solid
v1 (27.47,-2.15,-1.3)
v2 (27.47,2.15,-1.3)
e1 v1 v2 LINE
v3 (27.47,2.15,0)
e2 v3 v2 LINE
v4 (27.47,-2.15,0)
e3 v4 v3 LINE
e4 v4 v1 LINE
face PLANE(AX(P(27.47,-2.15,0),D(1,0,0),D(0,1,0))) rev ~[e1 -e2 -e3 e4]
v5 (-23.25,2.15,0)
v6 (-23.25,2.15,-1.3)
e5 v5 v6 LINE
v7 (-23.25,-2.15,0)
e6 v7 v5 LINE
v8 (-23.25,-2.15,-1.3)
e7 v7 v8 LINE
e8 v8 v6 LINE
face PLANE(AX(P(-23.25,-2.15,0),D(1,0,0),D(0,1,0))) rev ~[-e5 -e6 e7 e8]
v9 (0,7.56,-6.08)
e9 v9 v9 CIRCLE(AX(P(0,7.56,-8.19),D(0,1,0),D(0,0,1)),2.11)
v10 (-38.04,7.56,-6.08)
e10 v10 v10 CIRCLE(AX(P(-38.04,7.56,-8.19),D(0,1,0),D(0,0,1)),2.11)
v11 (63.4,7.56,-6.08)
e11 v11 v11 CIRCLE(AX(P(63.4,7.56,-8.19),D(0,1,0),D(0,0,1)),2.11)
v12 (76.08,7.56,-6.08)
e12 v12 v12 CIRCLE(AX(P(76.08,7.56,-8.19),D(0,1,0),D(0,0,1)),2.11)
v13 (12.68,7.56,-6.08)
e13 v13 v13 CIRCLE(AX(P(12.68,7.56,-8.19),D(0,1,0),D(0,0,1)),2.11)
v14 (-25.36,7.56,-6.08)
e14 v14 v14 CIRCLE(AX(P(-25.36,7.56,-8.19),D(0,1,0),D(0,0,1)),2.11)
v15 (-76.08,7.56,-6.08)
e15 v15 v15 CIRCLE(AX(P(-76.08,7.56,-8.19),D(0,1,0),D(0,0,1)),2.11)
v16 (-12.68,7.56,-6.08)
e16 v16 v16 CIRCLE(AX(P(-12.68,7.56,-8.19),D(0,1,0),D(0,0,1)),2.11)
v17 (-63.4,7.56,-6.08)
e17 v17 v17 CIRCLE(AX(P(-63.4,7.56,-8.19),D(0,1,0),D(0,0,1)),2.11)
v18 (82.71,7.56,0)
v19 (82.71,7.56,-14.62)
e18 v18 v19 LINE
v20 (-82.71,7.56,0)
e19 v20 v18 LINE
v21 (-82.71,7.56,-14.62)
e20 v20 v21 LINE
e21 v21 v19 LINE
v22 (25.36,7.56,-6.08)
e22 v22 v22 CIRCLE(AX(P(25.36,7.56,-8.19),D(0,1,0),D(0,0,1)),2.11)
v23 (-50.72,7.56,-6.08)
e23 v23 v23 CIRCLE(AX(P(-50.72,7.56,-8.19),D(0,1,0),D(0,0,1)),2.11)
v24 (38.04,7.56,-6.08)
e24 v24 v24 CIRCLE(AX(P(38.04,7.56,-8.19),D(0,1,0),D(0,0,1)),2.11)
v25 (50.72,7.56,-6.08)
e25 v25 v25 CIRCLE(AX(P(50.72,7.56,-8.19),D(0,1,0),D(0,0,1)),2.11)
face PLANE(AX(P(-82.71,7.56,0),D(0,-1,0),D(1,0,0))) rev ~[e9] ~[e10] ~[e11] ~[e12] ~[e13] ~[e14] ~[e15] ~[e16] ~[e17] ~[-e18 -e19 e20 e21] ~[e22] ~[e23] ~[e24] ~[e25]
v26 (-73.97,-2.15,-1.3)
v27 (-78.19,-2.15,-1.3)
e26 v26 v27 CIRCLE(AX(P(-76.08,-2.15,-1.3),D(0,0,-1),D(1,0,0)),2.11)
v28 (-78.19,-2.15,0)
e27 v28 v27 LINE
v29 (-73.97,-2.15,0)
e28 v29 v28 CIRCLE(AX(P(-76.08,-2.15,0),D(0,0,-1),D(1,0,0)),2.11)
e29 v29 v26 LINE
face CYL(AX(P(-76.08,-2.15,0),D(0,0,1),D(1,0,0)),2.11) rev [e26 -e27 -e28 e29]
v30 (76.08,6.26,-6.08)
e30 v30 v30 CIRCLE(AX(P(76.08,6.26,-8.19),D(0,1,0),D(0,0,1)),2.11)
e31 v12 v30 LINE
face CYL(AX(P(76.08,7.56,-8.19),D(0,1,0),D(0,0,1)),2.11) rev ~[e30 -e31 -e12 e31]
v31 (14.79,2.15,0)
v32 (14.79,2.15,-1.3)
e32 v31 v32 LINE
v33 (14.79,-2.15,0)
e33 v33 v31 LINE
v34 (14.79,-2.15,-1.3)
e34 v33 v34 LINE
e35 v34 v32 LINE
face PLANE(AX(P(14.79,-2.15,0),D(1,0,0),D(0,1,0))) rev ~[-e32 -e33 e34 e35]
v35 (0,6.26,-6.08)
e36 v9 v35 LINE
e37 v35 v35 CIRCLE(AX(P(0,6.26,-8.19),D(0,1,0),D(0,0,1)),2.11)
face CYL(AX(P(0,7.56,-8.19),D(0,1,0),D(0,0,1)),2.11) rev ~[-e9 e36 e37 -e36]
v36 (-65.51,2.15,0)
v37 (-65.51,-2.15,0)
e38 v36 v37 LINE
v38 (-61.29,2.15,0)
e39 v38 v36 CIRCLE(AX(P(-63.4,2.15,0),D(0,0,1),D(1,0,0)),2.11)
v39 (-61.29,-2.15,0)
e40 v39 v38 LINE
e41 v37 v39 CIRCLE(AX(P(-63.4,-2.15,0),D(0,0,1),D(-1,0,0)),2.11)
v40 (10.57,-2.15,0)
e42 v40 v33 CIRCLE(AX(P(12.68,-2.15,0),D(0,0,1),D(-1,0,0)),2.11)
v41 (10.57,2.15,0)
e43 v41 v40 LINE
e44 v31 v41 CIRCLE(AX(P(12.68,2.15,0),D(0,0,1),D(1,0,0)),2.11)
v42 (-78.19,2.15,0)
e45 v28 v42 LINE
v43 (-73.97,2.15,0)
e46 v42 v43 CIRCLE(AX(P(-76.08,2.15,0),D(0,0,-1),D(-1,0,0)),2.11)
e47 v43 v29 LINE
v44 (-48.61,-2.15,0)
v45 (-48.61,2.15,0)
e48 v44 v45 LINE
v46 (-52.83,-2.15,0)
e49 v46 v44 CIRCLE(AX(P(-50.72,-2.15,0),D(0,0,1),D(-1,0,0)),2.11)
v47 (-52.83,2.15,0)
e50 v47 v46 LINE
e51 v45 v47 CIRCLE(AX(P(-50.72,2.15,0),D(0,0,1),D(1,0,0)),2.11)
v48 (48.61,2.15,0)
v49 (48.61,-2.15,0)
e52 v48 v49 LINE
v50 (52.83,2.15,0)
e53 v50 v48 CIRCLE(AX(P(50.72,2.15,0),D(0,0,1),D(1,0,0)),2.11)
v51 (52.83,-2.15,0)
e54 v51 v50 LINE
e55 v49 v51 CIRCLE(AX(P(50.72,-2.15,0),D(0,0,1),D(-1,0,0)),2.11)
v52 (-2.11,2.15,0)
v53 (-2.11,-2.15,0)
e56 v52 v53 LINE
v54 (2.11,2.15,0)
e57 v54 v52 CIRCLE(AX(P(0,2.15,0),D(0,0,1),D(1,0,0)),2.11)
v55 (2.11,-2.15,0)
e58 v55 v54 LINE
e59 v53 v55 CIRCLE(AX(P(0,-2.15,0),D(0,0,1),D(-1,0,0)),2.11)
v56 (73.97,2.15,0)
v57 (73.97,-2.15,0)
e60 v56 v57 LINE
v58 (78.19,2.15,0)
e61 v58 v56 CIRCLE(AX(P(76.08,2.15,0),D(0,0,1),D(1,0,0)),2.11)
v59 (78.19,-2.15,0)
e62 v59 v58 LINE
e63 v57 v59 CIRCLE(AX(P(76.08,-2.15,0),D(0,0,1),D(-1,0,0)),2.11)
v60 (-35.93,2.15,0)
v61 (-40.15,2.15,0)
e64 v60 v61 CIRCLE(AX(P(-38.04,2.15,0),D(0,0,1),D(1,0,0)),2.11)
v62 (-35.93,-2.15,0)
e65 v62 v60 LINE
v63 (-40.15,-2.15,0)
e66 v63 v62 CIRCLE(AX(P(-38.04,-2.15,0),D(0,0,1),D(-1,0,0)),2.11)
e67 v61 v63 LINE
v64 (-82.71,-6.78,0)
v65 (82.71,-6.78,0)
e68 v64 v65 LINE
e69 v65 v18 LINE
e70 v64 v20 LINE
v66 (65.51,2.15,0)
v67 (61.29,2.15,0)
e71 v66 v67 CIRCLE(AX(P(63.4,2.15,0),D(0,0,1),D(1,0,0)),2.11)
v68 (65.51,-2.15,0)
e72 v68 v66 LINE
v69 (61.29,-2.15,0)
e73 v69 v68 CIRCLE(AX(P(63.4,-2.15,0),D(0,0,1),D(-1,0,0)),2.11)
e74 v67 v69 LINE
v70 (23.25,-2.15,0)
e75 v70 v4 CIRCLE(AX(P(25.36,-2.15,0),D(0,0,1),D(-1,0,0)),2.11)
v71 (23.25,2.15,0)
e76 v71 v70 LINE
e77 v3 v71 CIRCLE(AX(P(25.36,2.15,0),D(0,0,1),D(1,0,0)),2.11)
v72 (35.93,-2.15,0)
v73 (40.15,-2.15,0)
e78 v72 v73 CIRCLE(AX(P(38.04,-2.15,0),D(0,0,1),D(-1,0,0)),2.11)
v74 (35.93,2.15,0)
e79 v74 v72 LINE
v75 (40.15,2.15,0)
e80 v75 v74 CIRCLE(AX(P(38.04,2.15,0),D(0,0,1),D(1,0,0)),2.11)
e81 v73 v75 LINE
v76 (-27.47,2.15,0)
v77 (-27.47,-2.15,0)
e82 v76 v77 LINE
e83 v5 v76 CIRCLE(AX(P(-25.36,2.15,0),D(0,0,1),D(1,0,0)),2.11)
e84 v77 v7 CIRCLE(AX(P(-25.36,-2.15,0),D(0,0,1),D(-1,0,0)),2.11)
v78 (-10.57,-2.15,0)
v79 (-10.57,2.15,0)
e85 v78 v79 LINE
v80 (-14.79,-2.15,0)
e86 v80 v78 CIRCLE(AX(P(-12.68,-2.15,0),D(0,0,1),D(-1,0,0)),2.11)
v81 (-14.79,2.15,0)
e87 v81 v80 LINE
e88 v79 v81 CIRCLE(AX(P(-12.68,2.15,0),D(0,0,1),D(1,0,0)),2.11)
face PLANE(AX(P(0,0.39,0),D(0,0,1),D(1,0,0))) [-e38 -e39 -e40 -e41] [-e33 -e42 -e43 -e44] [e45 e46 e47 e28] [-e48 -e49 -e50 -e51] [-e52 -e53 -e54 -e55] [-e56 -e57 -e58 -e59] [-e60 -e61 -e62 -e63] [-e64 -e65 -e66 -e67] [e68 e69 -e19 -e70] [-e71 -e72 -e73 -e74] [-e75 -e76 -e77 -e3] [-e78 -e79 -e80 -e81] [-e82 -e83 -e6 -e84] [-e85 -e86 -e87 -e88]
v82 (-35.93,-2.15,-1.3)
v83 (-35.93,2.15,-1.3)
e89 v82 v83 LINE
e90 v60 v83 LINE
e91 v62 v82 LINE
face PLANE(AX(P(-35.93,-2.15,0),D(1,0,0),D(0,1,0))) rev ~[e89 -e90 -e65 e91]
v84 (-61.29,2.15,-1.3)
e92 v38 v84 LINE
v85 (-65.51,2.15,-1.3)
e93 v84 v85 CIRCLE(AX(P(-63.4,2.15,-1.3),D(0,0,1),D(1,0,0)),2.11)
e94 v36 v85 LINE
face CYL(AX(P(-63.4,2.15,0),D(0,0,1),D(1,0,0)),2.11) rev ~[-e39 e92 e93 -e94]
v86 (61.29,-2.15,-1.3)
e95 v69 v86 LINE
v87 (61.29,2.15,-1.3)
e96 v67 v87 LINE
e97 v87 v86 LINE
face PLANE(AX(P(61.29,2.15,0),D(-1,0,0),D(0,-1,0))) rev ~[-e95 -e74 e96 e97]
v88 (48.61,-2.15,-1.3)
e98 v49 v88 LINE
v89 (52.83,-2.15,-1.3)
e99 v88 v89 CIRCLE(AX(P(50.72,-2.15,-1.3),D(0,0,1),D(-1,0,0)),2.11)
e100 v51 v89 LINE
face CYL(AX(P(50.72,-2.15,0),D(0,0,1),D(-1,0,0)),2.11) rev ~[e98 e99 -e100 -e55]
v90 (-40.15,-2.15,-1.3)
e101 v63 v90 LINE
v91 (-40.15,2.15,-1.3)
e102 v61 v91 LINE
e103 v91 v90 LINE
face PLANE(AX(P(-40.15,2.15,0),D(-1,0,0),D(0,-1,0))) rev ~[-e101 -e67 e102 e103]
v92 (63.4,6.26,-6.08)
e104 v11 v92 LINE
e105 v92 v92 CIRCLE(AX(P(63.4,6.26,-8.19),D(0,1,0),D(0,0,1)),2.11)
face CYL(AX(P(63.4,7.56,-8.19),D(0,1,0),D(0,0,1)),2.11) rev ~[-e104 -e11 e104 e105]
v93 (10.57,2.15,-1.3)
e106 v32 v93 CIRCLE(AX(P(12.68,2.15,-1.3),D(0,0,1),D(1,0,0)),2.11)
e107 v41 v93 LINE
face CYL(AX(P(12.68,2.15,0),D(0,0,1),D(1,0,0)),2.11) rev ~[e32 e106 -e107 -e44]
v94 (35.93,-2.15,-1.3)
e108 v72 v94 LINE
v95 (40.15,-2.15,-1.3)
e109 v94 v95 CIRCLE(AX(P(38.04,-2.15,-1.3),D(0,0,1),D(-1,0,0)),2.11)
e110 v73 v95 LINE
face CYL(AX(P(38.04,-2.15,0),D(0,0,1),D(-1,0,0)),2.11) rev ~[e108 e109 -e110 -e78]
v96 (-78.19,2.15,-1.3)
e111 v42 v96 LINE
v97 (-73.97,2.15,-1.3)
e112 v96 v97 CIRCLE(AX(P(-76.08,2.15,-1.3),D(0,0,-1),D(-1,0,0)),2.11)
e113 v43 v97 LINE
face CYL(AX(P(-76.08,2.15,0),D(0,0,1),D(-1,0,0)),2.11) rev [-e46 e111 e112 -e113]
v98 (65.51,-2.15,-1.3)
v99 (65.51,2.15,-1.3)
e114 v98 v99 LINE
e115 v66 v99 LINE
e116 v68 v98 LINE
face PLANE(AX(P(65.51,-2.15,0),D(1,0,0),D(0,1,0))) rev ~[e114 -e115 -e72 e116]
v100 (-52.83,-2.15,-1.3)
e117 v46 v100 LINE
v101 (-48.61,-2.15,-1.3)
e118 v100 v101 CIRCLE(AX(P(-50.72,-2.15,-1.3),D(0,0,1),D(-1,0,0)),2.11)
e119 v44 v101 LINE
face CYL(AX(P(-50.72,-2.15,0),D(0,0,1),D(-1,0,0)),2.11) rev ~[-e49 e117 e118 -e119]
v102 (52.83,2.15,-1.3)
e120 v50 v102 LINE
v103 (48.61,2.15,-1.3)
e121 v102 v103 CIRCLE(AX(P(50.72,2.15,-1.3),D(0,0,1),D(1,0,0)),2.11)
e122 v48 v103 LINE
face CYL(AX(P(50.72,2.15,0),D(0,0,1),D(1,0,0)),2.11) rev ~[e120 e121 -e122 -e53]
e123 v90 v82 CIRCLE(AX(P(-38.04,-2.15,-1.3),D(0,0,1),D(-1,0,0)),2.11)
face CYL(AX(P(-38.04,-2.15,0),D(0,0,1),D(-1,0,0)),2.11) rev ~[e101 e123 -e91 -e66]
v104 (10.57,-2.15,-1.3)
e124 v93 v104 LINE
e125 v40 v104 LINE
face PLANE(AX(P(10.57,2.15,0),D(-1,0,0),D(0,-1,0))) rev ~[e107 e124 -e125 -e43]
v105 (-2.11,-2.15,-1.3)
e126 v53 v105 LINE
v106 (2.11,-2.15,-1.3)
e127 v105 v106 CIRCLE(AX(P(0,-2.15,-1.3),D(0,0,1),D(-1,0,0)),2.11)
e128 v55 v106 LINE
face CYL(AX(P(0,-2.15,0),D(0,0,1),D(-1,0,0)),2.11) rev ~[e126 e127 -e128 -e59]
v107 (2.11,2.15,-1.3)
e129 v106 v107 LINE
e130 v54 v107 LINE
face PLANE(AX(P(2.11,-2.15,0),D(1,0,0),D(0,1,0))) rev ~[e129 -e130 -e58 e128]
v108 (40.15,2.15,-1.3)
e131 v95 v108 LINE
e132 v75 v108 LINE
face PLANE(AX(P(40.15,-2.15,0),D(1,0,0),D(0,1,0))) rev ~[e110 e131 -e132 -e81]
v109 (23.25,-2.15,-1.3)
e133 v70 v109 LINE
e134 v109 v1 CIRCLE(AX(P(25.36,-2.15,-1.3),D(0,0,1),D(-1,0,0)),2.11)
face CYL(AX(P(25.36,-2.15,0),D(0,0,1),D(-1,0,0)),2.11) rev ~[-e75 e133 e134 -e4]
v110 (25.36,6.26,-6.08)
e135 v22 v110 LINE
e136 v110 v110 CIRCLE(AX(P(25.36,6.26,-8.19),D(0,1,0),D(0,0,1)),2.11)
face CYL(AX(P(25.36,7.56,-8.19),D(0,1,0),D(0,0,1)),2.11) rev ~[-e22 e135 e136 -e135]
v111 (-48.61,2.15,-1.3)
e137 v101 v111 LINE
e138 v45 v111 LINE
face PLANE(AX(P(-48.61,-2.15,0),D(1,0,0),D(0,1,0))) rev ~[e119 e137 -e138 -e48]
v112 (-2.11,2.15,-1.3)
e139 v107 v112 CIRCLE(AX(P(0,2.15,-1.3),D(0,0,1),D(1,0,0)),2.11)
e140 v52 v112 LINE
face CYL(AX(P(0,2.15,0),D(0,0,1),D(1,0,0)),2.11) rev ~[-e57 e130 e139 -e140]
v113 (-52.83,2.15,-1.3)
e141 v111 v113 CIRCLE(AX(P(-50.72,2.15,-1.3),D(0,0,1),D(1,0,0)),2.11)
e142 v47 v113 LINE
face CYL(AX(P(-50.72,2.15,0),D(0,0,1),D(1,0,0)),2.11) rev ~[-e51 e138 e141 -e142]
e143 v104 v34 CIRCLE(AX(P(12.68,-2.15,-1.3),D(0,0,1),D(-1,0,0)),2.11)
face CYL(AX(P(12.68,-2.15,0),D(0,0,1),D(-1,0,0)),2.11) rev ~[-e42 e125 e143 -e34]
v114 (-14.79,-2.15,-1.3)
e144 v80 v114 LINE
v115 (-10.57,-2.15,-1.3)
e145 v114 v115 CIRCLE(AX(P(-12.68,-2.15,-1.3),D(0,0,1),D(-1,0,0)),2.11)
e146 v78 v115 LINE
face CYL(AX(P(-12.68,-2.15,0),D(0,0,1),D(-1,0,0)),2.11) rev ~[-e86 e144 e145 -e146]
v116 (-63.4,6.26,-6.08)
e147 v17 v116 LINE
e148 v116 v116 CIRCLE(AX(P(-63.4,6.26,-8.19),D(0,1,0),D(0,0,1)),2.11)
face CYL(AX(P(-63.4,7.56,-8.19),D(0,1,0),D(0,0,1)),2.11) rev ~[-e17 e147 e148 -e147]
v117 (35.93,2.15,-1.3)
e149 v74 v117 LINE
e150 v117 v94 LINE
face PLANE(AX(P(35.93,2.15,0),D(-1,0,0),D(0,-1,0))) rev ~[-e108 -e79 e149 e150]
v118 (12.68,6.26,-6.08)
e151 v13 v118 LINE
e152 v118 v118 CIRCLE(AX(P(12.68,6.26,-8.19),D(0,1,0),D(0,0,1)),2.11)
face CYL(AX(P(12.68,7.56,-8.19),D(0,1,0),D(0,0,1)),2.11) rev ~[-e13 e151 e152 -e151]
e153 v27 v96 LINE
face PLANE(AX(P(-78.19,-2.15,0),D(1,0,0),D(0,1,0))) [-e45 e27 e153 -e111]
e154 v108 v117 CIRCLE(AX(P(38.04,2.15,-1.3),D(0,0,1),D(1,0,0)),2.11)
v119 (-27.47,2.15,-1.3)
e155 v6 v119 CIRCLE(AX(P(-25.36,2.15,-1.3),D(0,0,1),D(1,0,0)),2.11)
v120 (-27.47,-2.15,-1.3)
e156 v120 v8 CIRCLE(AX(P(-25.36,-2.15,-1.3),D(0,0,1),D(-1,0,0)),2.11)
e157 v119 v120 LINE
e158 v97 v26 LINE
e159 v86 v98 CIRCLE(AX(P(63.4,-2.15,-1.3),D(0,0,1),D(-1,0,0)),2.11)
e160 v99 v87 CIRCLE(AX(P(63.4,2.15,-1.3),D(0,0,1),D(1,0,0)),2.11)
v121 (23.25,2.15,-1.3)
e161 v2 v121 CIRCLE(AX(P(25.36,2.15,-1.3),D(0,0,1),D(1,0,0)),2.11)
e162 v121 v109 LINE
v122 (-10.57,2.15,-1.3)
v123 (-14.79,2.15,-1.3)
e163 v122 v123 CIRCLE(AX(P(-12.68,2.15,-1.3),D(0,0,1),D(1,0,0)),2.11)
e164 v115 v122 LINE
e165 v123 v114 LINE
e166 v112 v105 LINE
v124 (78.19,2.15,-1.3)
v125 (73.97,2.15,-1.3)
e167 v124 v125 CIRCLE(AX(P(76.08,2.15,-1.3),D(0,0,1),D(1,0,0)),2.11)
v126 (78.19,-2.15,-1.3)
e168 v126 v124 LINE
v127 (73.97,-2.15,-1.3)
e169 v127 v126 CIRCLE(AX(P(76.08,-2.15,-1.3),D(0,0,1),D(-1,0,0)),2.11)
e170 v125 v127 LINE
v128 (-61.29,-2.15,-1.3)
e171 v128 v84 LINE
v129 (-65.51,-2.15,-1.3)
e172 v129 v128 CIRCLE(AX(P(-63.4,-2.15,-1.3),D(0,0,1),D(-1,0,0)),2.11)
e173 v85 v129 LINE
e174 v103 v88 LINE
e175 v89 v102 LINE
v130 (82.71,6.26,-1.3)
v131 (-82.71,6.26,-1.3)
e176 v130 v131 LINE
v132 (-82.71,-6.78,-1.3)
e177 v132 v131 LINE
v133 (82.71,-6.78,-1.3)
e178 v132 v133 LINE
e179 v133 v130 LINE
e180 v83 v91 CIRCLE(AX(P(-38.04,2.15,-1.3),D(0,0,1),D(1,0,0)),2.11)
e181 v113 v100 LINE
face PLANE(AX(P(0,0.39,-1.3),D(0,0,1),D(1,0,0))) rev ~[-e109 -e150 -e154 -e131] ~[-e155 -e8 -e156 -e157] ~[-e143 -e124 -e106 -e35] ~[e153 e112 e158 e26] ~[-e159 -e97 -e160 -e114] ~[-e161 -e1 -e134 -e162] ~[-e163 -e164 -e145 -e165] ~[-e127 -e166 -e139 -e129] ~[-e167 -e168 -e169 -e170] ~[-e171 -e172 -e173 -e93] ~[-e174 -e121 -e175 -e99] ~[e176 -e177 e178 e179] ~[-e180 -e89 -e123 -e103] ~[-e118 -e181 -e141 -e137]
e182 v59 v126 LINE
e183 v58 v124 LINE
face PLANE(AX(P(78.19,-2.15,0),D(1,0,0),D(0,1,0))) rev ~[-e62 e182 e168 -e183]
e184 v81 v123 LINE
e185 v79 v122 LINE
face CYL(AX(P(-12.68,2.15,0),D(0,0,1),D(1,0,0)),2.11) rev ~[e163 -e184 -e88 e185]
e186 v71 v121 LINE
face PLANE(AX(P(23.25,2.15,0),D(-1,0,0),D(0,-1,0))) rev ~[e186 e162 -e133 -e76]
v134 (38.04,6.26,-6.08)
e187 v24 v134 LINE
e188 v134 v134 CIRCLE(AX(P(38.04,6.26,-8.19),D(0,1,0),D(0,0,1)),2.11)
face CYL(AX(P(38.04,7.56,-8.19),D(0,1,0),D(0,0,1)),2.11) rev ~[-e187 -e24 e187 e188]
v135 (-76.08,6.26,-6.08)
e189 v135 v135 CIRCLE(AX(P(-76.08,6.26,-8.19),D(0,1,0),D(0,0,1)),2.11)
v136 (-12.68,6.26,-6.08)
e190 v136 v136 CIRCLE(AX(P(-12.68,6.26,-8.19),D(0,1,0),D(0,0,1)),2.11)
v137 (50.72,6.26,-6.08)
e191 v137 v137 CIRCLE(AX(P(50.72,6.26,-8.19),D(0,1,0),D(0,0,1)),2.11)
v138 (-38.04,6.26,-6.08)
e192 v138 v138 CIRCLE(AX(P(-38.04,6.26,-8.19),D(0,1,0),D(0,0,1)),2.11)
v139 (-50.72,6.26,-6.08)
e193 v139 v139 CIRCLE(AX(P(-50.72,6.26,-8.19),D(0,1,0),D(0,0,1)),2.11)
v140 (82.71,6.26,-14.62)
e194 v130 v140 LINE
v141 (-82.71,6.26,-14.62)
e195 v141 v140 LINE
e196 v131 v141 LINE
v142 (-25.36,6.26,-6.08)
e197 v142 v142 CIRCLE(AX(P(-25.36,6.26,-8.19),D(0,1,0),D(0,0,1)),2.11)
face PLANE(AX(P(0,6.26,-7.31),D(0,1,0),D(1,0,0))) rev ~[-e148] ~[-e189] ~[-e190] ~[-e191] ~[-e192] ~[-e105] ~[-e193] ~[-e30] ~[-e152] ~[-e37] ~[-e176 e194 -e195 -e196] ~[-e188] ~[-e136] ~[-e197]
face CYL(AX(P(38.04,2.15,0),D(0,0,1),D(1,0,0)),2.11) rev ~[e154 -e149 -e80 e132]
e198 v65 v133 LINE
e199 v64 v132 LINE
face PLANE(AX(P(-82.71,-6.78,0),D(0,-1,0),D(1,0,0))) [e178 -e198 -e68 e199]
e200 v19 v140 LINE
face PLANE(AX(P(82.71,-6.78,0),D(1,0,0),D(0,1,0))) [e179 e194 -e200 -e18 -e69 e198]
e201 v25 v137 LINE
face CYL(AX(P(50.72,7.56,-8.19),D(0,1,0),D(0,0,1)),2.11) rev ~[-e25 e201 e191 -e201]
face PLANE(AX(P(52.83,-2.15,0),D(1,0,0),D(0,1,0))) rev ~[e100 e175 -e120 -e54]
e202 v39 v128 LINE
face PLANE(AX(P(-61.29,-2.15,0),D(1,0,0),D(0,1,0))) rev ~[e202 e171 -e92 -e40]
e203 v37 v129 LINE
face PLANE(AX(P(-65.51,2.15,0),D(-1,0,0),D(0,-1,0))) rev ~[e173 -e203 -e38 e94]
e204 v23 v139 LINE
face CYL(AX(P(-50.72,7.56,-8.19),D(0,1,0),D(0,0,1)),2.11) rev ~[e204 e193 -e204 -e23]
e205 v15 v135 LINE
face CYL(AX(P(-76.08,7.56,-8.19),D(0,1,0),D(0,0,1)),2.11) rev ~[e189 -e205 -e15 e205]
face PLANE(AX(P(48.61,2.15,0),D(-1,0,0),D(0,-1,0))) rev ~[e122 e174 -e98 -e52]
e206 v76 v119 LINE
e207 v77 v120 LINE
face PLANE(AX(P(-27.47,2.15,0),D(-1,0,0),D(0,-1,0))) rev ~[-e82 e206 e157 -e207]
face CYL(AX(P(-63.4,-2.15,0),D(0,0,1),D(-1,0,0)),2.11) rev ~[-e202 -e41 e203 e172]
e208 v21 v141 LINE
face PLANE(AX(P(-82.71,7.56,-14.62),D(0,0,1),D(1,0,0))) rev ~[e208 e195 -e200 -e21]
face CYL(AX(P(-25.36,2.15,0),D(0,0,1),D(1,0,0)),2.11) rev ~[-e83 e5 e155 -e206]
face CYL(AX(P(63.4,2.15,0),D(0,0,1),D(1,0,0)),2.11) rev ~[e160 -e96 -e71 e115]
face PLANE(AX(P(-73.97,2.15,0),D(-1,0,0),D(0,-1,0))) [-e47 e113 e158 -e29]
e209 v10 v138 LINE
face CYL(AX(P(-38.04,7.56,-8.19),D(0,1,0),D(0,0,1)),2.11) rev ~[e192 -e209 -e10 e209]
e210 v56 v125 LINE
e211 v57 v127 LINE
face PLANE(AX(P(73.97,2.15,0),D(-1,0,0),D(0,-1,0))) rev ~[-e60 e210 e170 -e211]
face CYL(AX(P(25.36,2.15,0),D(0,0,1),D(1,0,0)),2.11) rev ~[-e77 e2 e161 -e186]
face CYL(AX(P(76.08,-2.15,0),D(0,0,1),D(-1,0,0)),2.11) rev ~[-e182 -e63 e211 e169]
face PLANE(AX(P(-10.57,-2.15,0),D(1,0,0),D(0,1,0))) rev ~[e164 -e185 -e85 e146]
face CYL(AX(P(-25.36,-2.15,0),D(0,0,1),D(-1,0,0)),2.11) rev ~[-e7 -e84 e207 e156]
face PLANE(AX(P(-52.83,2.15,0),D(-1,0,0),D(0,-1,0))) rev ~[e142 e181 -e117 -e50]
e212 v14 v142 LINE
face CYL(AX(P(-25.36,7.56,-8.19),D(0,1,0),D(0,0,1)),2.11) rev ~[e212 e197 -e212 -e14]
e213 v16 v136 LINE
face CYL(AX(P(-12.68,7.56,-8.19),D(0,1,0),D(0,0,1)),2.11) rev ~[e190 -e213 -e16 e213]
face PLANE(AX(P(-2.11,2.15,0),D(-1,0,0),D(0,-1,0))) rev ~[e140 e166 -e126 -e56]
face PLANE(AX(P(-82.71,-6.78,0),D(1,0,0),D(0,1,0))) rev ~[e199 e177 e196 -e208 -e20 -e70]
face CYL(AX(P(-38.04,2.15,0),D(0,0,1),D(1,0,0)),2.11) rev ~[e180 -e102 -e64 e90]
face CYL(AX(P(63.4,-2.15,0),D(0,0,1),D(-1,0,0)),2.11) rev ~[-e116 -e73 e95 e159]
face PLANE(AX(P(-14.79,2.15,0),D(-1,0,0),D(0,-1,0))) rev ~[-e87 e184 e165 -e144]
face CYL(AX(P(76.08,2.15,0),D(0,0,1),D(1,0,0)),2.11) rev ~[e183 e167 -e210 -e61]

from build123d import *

# Parameters (mm, degrees)
SKETCH1_W           = 165.42
SKETCH1_H           = 14.34
BOSS_EXTRUDE1_DEPTH = 1.3
SKETCH3_W           = 165.42
SKETCH3_H           = 14.62
SKETCH3_R           = 2.11
BOSS_EXTRUDE2_DEPTH = 1.3


with BuildPart() as part:
    # Sketch1 → Boss-Extrude1 (new body)
    with BuildSketch(Plane.XY):
        with Locations((0, 0.39)):
            Rectangle(SKETCH1_W, SKETCH1_H)
        with BuildLine():
            Line((-73.97, 2.15), (-73.97, -2.15))
            ThreePointArc((-73.97, -2.15), (-76.08, -4.26), (-78.19, -2.15))
            Line((-78.19, -2.15), (-78.19, 2.15))
            ThreePointArc((-78.19, 2.15), (-76.08, 4.26), (-73.97, 2.15))
        make_face(mode=Mode.SUBTRACT)
        with BuildLine():
            Line((-65.51, 2.15), (-65.51, -2.15))
            ThreePointArc((-65.51, -2.15), (-63.4, -4.26), (-61.29, -2.15))
            Line((-61.29, -2.15), (-61.29, 2.15))
            ThreePointArc((-61.29, 2.15), (-63.4, 4.26), (-65.51, 2.15))
        make_face(mode=Mode.SUBTRACT)
        with BuildLine():
            Line((-52.83, 2.15), (-52.83, -2.15))
            ThreePointArc((-52.83, -2.15), (-50.72, -4.26), (-48.61, -2.15))
            Line((-48.61, -2.15), (-48.61, 2.15))
            ThreePointArc((-48.61, 2.15), (-50.72, 4.26), (-52.83, 2.15))
        make_face(mode=Mode.SUBTRACT)
        with BuildLine():
            Line((-40.15, 2.15), (-40.15, -2.15))
            ThreePointArc((-40.15, -2.15), (-38.04, -4.26), (-35.93, -2.15))
            Line((-35.93, -2.15), (-35.93, 2.15))
            ThreePointArc((-35.93, 2.15), (-38.04, 4.26), (-40.15, 2.15))
        make_face(mode=Mode.SUBTRACT)
        with BuildLine():
            Line((-27.47, 2.15), (-27.47, -2.15))
            ThreePointArc((-27.47, -2.15), (-25.36, -4.26), (-23.25, -2.15))
            Line((-23.25, -2.15), (-23.25, 2.15))
            ThreePointArc((-23.25, 2.15), (-25.36, 4.26), (-27.47, 2.15))
        make_face(mode=Mode.SUBTRACT)
        with BuildLine():
            Line((-14.79, 2.15), (-14.79, -2.15))
            ThreePointArc((-14.79, -2.15), (-12.68, -4.26), (-10.57, -2.15))
            Line((-10.57, -2.15), (-10.57, 2.15))
            ThreePointArc((-10.57, 2.15), (-12.68, 4.26), (-14.79, 2.15))
        make_face(mode=Mode.SUBTRACT)
        with BuildLine():
            Line((-2.11, 2.15), (-2.11, -2.15))
            ThreePointArc((-2.11, -2.15), (0, -4.26), (2.11, -2.15))
            Line((2.11, -2.15), (2.11, 2.15))
            ThreePointArc((2.11, 2.15), (0, 4.26), (-2.11, 2.15))
        make_face(mode=Mode.SUBTRACT)
        with BuildLine():
            Line((10.57, 2.15), (10.57, -2.15))
            ThreePointArc((10.57, -2.15), (12.68, -4.26), (14.79, -2.15))
            Line((14.79, -2.15), (14.79, 2.15))
            ThreePointArc((14.79, 2.15), (12.68, 4.26), (10.57, 2.15))
        make_face(mode=Mode.SUBTRACT)
        with BuildLine():
            Line((23.25, 2.15), (23.25, -2.15))
            ThreePointArc((23.25, -2.15), (25.36, -4.26), (27.47, -2.15))
            Line((27.47, -2.15), (27.47, 2.15))
            ThreePointArc((27.47, 2.15), (25.36, 4.26), (23.25, 2.15))
        make_face(mode=Mode.SUBTRACT)
        with BuildLine():
            Line((35.93, 2.15), (35.93, -2.15))
            ThreePointArc((35.93, -2.15), (38.04, -4.26), (40.15, -2.15))
            Line((40.15, -2.15), (40.15, 2.15))
            ThreePointArc((40.15, 2.15), (38.04, 4.26), (35.93, 2.15))
        make_face(mode=Mode.SUBTRACT)
        with BuildLine():
            Line((48.61, 2.15), (48.61, -2.15))
            ThreePointArc((48.61, -2.15), (50.72, -4.26), (52.83, -2.15))
            Line((52.83, -2.15), (52.83, 2.15))
            ThreePointArc((52.83, 2.15), (50.72, 4.26), (48.61, 2.15))
        make_face(mode=Mode.SUBTRACT)
        with BuildLine():
            Line((61.29, 2.15), (61.29, -2.15))
            ThreePointArc((61.29, -2.15), (63.4, -4.26), (65.51, -2.15))
            Line((65.51, -2.15), (65.51, 2.15))
            ThreePointArc((65.51, 2.15), (63.4, 4.26), (61.29, 2.15))
        make_face(mode=Mode.SUBTRACT)
        with BuildLine():
            Line((73.97, 2.15), (73.97, -2.15))
            ThreePointArc((73.97, -2.15), (76.08, -4.26), (78.19, -2.15))
            Line((78.19, -2.15), (78.19, 2.15))
            ThreePointArc((78.19, 2.15), (76.08, 4.26), (73.97, 2.15))
        make_face(mode=Mode.SUBTRACT)
    extrude(amount=-BOSS_EXTRUDE1_DEPTH)

    # Sketch3 → Boss-Extrude2 (add)
    with BuildSketch(Plane(origin=(0, 7.56, 0), x_dir=(1, 0, 0), z_dir=(0, 1, 0))):
        with Locations((0, 7.31)):
            Rectangle(SKETCH3_W, SKETCH3_H)
        with Locations(Location((-76.08, 8.19, 0), (0, 0, 270))):
            Circle(SKETCH3_R, mode=Mode.SUBTRACT)
        with Locations(Location((-63.4, 8.19, 0), (0, 0, 270))):
            Circle(SKETCH3_R, mode=Mode.SUBTRACT)
        with Locations(Location((-50.72, 8.19, 0), (0, 0, 270))):
            Circle(SKETCH3_R, mode=Mode.SUBTRACT)
        with Locations(Location((-38.04, 8.19, 0), (0, 0, 270))):
            Circle(SKETCH3_R, mode=Mode.SUBTRACT)
        with Locations(Location((-25.36, 8.19, 0), (0, 0, 270))):
            Circle(SKETCH3_R, mode=Mode.SUBTRACT)
        with Locations(Location((-12.68, 8.19, 0), (0, 0, 270))):
            Circle(SKETCH3_R, mode=Mode.SUBTRACT)
        with Locations(Location((0, 8.19, 0), (0, 0, 270))):
            Circle(SKETCH3_R, mode=Mode.SUBTRACT)
        with Locations(Location((12.68, 8.19, 0), (0, 0, 270))):
            Circle(SKETCH3_R, mode=Mode.SUBTRACT)
        with Locations(Location((25.36, 8.19, 0), (0, 0, 270))):
            Circle(SKETCH3_R, mode=Mode.SUBTRACT)
        with Locations(Location((38.04, 8.19, 0), (0, 0, 270))):
            Circle(SKETCH3_R, mode=Mode.SUBTRACT)
        with Locations(Location((50.72, 8.19, 0), (0, 0, 270))):
            Circle(SKETCH3_R, mode=Mode.SUBTRACT)
        with Locations(Location((63.4, 8.19, 0), (0, 0, 270))):
            Circle(SKETCH3_R, mode=Mode.SUBTRACT)
        with Locations(Location((76.08, 8.19, 0), (0, 0, 270))):
            Circle(SKETCH3_R, mode=Mode.SUBTRACT)
    extrude(amount=-BOSS_EXTRUDE2_DEPTH)


solid = part.part
